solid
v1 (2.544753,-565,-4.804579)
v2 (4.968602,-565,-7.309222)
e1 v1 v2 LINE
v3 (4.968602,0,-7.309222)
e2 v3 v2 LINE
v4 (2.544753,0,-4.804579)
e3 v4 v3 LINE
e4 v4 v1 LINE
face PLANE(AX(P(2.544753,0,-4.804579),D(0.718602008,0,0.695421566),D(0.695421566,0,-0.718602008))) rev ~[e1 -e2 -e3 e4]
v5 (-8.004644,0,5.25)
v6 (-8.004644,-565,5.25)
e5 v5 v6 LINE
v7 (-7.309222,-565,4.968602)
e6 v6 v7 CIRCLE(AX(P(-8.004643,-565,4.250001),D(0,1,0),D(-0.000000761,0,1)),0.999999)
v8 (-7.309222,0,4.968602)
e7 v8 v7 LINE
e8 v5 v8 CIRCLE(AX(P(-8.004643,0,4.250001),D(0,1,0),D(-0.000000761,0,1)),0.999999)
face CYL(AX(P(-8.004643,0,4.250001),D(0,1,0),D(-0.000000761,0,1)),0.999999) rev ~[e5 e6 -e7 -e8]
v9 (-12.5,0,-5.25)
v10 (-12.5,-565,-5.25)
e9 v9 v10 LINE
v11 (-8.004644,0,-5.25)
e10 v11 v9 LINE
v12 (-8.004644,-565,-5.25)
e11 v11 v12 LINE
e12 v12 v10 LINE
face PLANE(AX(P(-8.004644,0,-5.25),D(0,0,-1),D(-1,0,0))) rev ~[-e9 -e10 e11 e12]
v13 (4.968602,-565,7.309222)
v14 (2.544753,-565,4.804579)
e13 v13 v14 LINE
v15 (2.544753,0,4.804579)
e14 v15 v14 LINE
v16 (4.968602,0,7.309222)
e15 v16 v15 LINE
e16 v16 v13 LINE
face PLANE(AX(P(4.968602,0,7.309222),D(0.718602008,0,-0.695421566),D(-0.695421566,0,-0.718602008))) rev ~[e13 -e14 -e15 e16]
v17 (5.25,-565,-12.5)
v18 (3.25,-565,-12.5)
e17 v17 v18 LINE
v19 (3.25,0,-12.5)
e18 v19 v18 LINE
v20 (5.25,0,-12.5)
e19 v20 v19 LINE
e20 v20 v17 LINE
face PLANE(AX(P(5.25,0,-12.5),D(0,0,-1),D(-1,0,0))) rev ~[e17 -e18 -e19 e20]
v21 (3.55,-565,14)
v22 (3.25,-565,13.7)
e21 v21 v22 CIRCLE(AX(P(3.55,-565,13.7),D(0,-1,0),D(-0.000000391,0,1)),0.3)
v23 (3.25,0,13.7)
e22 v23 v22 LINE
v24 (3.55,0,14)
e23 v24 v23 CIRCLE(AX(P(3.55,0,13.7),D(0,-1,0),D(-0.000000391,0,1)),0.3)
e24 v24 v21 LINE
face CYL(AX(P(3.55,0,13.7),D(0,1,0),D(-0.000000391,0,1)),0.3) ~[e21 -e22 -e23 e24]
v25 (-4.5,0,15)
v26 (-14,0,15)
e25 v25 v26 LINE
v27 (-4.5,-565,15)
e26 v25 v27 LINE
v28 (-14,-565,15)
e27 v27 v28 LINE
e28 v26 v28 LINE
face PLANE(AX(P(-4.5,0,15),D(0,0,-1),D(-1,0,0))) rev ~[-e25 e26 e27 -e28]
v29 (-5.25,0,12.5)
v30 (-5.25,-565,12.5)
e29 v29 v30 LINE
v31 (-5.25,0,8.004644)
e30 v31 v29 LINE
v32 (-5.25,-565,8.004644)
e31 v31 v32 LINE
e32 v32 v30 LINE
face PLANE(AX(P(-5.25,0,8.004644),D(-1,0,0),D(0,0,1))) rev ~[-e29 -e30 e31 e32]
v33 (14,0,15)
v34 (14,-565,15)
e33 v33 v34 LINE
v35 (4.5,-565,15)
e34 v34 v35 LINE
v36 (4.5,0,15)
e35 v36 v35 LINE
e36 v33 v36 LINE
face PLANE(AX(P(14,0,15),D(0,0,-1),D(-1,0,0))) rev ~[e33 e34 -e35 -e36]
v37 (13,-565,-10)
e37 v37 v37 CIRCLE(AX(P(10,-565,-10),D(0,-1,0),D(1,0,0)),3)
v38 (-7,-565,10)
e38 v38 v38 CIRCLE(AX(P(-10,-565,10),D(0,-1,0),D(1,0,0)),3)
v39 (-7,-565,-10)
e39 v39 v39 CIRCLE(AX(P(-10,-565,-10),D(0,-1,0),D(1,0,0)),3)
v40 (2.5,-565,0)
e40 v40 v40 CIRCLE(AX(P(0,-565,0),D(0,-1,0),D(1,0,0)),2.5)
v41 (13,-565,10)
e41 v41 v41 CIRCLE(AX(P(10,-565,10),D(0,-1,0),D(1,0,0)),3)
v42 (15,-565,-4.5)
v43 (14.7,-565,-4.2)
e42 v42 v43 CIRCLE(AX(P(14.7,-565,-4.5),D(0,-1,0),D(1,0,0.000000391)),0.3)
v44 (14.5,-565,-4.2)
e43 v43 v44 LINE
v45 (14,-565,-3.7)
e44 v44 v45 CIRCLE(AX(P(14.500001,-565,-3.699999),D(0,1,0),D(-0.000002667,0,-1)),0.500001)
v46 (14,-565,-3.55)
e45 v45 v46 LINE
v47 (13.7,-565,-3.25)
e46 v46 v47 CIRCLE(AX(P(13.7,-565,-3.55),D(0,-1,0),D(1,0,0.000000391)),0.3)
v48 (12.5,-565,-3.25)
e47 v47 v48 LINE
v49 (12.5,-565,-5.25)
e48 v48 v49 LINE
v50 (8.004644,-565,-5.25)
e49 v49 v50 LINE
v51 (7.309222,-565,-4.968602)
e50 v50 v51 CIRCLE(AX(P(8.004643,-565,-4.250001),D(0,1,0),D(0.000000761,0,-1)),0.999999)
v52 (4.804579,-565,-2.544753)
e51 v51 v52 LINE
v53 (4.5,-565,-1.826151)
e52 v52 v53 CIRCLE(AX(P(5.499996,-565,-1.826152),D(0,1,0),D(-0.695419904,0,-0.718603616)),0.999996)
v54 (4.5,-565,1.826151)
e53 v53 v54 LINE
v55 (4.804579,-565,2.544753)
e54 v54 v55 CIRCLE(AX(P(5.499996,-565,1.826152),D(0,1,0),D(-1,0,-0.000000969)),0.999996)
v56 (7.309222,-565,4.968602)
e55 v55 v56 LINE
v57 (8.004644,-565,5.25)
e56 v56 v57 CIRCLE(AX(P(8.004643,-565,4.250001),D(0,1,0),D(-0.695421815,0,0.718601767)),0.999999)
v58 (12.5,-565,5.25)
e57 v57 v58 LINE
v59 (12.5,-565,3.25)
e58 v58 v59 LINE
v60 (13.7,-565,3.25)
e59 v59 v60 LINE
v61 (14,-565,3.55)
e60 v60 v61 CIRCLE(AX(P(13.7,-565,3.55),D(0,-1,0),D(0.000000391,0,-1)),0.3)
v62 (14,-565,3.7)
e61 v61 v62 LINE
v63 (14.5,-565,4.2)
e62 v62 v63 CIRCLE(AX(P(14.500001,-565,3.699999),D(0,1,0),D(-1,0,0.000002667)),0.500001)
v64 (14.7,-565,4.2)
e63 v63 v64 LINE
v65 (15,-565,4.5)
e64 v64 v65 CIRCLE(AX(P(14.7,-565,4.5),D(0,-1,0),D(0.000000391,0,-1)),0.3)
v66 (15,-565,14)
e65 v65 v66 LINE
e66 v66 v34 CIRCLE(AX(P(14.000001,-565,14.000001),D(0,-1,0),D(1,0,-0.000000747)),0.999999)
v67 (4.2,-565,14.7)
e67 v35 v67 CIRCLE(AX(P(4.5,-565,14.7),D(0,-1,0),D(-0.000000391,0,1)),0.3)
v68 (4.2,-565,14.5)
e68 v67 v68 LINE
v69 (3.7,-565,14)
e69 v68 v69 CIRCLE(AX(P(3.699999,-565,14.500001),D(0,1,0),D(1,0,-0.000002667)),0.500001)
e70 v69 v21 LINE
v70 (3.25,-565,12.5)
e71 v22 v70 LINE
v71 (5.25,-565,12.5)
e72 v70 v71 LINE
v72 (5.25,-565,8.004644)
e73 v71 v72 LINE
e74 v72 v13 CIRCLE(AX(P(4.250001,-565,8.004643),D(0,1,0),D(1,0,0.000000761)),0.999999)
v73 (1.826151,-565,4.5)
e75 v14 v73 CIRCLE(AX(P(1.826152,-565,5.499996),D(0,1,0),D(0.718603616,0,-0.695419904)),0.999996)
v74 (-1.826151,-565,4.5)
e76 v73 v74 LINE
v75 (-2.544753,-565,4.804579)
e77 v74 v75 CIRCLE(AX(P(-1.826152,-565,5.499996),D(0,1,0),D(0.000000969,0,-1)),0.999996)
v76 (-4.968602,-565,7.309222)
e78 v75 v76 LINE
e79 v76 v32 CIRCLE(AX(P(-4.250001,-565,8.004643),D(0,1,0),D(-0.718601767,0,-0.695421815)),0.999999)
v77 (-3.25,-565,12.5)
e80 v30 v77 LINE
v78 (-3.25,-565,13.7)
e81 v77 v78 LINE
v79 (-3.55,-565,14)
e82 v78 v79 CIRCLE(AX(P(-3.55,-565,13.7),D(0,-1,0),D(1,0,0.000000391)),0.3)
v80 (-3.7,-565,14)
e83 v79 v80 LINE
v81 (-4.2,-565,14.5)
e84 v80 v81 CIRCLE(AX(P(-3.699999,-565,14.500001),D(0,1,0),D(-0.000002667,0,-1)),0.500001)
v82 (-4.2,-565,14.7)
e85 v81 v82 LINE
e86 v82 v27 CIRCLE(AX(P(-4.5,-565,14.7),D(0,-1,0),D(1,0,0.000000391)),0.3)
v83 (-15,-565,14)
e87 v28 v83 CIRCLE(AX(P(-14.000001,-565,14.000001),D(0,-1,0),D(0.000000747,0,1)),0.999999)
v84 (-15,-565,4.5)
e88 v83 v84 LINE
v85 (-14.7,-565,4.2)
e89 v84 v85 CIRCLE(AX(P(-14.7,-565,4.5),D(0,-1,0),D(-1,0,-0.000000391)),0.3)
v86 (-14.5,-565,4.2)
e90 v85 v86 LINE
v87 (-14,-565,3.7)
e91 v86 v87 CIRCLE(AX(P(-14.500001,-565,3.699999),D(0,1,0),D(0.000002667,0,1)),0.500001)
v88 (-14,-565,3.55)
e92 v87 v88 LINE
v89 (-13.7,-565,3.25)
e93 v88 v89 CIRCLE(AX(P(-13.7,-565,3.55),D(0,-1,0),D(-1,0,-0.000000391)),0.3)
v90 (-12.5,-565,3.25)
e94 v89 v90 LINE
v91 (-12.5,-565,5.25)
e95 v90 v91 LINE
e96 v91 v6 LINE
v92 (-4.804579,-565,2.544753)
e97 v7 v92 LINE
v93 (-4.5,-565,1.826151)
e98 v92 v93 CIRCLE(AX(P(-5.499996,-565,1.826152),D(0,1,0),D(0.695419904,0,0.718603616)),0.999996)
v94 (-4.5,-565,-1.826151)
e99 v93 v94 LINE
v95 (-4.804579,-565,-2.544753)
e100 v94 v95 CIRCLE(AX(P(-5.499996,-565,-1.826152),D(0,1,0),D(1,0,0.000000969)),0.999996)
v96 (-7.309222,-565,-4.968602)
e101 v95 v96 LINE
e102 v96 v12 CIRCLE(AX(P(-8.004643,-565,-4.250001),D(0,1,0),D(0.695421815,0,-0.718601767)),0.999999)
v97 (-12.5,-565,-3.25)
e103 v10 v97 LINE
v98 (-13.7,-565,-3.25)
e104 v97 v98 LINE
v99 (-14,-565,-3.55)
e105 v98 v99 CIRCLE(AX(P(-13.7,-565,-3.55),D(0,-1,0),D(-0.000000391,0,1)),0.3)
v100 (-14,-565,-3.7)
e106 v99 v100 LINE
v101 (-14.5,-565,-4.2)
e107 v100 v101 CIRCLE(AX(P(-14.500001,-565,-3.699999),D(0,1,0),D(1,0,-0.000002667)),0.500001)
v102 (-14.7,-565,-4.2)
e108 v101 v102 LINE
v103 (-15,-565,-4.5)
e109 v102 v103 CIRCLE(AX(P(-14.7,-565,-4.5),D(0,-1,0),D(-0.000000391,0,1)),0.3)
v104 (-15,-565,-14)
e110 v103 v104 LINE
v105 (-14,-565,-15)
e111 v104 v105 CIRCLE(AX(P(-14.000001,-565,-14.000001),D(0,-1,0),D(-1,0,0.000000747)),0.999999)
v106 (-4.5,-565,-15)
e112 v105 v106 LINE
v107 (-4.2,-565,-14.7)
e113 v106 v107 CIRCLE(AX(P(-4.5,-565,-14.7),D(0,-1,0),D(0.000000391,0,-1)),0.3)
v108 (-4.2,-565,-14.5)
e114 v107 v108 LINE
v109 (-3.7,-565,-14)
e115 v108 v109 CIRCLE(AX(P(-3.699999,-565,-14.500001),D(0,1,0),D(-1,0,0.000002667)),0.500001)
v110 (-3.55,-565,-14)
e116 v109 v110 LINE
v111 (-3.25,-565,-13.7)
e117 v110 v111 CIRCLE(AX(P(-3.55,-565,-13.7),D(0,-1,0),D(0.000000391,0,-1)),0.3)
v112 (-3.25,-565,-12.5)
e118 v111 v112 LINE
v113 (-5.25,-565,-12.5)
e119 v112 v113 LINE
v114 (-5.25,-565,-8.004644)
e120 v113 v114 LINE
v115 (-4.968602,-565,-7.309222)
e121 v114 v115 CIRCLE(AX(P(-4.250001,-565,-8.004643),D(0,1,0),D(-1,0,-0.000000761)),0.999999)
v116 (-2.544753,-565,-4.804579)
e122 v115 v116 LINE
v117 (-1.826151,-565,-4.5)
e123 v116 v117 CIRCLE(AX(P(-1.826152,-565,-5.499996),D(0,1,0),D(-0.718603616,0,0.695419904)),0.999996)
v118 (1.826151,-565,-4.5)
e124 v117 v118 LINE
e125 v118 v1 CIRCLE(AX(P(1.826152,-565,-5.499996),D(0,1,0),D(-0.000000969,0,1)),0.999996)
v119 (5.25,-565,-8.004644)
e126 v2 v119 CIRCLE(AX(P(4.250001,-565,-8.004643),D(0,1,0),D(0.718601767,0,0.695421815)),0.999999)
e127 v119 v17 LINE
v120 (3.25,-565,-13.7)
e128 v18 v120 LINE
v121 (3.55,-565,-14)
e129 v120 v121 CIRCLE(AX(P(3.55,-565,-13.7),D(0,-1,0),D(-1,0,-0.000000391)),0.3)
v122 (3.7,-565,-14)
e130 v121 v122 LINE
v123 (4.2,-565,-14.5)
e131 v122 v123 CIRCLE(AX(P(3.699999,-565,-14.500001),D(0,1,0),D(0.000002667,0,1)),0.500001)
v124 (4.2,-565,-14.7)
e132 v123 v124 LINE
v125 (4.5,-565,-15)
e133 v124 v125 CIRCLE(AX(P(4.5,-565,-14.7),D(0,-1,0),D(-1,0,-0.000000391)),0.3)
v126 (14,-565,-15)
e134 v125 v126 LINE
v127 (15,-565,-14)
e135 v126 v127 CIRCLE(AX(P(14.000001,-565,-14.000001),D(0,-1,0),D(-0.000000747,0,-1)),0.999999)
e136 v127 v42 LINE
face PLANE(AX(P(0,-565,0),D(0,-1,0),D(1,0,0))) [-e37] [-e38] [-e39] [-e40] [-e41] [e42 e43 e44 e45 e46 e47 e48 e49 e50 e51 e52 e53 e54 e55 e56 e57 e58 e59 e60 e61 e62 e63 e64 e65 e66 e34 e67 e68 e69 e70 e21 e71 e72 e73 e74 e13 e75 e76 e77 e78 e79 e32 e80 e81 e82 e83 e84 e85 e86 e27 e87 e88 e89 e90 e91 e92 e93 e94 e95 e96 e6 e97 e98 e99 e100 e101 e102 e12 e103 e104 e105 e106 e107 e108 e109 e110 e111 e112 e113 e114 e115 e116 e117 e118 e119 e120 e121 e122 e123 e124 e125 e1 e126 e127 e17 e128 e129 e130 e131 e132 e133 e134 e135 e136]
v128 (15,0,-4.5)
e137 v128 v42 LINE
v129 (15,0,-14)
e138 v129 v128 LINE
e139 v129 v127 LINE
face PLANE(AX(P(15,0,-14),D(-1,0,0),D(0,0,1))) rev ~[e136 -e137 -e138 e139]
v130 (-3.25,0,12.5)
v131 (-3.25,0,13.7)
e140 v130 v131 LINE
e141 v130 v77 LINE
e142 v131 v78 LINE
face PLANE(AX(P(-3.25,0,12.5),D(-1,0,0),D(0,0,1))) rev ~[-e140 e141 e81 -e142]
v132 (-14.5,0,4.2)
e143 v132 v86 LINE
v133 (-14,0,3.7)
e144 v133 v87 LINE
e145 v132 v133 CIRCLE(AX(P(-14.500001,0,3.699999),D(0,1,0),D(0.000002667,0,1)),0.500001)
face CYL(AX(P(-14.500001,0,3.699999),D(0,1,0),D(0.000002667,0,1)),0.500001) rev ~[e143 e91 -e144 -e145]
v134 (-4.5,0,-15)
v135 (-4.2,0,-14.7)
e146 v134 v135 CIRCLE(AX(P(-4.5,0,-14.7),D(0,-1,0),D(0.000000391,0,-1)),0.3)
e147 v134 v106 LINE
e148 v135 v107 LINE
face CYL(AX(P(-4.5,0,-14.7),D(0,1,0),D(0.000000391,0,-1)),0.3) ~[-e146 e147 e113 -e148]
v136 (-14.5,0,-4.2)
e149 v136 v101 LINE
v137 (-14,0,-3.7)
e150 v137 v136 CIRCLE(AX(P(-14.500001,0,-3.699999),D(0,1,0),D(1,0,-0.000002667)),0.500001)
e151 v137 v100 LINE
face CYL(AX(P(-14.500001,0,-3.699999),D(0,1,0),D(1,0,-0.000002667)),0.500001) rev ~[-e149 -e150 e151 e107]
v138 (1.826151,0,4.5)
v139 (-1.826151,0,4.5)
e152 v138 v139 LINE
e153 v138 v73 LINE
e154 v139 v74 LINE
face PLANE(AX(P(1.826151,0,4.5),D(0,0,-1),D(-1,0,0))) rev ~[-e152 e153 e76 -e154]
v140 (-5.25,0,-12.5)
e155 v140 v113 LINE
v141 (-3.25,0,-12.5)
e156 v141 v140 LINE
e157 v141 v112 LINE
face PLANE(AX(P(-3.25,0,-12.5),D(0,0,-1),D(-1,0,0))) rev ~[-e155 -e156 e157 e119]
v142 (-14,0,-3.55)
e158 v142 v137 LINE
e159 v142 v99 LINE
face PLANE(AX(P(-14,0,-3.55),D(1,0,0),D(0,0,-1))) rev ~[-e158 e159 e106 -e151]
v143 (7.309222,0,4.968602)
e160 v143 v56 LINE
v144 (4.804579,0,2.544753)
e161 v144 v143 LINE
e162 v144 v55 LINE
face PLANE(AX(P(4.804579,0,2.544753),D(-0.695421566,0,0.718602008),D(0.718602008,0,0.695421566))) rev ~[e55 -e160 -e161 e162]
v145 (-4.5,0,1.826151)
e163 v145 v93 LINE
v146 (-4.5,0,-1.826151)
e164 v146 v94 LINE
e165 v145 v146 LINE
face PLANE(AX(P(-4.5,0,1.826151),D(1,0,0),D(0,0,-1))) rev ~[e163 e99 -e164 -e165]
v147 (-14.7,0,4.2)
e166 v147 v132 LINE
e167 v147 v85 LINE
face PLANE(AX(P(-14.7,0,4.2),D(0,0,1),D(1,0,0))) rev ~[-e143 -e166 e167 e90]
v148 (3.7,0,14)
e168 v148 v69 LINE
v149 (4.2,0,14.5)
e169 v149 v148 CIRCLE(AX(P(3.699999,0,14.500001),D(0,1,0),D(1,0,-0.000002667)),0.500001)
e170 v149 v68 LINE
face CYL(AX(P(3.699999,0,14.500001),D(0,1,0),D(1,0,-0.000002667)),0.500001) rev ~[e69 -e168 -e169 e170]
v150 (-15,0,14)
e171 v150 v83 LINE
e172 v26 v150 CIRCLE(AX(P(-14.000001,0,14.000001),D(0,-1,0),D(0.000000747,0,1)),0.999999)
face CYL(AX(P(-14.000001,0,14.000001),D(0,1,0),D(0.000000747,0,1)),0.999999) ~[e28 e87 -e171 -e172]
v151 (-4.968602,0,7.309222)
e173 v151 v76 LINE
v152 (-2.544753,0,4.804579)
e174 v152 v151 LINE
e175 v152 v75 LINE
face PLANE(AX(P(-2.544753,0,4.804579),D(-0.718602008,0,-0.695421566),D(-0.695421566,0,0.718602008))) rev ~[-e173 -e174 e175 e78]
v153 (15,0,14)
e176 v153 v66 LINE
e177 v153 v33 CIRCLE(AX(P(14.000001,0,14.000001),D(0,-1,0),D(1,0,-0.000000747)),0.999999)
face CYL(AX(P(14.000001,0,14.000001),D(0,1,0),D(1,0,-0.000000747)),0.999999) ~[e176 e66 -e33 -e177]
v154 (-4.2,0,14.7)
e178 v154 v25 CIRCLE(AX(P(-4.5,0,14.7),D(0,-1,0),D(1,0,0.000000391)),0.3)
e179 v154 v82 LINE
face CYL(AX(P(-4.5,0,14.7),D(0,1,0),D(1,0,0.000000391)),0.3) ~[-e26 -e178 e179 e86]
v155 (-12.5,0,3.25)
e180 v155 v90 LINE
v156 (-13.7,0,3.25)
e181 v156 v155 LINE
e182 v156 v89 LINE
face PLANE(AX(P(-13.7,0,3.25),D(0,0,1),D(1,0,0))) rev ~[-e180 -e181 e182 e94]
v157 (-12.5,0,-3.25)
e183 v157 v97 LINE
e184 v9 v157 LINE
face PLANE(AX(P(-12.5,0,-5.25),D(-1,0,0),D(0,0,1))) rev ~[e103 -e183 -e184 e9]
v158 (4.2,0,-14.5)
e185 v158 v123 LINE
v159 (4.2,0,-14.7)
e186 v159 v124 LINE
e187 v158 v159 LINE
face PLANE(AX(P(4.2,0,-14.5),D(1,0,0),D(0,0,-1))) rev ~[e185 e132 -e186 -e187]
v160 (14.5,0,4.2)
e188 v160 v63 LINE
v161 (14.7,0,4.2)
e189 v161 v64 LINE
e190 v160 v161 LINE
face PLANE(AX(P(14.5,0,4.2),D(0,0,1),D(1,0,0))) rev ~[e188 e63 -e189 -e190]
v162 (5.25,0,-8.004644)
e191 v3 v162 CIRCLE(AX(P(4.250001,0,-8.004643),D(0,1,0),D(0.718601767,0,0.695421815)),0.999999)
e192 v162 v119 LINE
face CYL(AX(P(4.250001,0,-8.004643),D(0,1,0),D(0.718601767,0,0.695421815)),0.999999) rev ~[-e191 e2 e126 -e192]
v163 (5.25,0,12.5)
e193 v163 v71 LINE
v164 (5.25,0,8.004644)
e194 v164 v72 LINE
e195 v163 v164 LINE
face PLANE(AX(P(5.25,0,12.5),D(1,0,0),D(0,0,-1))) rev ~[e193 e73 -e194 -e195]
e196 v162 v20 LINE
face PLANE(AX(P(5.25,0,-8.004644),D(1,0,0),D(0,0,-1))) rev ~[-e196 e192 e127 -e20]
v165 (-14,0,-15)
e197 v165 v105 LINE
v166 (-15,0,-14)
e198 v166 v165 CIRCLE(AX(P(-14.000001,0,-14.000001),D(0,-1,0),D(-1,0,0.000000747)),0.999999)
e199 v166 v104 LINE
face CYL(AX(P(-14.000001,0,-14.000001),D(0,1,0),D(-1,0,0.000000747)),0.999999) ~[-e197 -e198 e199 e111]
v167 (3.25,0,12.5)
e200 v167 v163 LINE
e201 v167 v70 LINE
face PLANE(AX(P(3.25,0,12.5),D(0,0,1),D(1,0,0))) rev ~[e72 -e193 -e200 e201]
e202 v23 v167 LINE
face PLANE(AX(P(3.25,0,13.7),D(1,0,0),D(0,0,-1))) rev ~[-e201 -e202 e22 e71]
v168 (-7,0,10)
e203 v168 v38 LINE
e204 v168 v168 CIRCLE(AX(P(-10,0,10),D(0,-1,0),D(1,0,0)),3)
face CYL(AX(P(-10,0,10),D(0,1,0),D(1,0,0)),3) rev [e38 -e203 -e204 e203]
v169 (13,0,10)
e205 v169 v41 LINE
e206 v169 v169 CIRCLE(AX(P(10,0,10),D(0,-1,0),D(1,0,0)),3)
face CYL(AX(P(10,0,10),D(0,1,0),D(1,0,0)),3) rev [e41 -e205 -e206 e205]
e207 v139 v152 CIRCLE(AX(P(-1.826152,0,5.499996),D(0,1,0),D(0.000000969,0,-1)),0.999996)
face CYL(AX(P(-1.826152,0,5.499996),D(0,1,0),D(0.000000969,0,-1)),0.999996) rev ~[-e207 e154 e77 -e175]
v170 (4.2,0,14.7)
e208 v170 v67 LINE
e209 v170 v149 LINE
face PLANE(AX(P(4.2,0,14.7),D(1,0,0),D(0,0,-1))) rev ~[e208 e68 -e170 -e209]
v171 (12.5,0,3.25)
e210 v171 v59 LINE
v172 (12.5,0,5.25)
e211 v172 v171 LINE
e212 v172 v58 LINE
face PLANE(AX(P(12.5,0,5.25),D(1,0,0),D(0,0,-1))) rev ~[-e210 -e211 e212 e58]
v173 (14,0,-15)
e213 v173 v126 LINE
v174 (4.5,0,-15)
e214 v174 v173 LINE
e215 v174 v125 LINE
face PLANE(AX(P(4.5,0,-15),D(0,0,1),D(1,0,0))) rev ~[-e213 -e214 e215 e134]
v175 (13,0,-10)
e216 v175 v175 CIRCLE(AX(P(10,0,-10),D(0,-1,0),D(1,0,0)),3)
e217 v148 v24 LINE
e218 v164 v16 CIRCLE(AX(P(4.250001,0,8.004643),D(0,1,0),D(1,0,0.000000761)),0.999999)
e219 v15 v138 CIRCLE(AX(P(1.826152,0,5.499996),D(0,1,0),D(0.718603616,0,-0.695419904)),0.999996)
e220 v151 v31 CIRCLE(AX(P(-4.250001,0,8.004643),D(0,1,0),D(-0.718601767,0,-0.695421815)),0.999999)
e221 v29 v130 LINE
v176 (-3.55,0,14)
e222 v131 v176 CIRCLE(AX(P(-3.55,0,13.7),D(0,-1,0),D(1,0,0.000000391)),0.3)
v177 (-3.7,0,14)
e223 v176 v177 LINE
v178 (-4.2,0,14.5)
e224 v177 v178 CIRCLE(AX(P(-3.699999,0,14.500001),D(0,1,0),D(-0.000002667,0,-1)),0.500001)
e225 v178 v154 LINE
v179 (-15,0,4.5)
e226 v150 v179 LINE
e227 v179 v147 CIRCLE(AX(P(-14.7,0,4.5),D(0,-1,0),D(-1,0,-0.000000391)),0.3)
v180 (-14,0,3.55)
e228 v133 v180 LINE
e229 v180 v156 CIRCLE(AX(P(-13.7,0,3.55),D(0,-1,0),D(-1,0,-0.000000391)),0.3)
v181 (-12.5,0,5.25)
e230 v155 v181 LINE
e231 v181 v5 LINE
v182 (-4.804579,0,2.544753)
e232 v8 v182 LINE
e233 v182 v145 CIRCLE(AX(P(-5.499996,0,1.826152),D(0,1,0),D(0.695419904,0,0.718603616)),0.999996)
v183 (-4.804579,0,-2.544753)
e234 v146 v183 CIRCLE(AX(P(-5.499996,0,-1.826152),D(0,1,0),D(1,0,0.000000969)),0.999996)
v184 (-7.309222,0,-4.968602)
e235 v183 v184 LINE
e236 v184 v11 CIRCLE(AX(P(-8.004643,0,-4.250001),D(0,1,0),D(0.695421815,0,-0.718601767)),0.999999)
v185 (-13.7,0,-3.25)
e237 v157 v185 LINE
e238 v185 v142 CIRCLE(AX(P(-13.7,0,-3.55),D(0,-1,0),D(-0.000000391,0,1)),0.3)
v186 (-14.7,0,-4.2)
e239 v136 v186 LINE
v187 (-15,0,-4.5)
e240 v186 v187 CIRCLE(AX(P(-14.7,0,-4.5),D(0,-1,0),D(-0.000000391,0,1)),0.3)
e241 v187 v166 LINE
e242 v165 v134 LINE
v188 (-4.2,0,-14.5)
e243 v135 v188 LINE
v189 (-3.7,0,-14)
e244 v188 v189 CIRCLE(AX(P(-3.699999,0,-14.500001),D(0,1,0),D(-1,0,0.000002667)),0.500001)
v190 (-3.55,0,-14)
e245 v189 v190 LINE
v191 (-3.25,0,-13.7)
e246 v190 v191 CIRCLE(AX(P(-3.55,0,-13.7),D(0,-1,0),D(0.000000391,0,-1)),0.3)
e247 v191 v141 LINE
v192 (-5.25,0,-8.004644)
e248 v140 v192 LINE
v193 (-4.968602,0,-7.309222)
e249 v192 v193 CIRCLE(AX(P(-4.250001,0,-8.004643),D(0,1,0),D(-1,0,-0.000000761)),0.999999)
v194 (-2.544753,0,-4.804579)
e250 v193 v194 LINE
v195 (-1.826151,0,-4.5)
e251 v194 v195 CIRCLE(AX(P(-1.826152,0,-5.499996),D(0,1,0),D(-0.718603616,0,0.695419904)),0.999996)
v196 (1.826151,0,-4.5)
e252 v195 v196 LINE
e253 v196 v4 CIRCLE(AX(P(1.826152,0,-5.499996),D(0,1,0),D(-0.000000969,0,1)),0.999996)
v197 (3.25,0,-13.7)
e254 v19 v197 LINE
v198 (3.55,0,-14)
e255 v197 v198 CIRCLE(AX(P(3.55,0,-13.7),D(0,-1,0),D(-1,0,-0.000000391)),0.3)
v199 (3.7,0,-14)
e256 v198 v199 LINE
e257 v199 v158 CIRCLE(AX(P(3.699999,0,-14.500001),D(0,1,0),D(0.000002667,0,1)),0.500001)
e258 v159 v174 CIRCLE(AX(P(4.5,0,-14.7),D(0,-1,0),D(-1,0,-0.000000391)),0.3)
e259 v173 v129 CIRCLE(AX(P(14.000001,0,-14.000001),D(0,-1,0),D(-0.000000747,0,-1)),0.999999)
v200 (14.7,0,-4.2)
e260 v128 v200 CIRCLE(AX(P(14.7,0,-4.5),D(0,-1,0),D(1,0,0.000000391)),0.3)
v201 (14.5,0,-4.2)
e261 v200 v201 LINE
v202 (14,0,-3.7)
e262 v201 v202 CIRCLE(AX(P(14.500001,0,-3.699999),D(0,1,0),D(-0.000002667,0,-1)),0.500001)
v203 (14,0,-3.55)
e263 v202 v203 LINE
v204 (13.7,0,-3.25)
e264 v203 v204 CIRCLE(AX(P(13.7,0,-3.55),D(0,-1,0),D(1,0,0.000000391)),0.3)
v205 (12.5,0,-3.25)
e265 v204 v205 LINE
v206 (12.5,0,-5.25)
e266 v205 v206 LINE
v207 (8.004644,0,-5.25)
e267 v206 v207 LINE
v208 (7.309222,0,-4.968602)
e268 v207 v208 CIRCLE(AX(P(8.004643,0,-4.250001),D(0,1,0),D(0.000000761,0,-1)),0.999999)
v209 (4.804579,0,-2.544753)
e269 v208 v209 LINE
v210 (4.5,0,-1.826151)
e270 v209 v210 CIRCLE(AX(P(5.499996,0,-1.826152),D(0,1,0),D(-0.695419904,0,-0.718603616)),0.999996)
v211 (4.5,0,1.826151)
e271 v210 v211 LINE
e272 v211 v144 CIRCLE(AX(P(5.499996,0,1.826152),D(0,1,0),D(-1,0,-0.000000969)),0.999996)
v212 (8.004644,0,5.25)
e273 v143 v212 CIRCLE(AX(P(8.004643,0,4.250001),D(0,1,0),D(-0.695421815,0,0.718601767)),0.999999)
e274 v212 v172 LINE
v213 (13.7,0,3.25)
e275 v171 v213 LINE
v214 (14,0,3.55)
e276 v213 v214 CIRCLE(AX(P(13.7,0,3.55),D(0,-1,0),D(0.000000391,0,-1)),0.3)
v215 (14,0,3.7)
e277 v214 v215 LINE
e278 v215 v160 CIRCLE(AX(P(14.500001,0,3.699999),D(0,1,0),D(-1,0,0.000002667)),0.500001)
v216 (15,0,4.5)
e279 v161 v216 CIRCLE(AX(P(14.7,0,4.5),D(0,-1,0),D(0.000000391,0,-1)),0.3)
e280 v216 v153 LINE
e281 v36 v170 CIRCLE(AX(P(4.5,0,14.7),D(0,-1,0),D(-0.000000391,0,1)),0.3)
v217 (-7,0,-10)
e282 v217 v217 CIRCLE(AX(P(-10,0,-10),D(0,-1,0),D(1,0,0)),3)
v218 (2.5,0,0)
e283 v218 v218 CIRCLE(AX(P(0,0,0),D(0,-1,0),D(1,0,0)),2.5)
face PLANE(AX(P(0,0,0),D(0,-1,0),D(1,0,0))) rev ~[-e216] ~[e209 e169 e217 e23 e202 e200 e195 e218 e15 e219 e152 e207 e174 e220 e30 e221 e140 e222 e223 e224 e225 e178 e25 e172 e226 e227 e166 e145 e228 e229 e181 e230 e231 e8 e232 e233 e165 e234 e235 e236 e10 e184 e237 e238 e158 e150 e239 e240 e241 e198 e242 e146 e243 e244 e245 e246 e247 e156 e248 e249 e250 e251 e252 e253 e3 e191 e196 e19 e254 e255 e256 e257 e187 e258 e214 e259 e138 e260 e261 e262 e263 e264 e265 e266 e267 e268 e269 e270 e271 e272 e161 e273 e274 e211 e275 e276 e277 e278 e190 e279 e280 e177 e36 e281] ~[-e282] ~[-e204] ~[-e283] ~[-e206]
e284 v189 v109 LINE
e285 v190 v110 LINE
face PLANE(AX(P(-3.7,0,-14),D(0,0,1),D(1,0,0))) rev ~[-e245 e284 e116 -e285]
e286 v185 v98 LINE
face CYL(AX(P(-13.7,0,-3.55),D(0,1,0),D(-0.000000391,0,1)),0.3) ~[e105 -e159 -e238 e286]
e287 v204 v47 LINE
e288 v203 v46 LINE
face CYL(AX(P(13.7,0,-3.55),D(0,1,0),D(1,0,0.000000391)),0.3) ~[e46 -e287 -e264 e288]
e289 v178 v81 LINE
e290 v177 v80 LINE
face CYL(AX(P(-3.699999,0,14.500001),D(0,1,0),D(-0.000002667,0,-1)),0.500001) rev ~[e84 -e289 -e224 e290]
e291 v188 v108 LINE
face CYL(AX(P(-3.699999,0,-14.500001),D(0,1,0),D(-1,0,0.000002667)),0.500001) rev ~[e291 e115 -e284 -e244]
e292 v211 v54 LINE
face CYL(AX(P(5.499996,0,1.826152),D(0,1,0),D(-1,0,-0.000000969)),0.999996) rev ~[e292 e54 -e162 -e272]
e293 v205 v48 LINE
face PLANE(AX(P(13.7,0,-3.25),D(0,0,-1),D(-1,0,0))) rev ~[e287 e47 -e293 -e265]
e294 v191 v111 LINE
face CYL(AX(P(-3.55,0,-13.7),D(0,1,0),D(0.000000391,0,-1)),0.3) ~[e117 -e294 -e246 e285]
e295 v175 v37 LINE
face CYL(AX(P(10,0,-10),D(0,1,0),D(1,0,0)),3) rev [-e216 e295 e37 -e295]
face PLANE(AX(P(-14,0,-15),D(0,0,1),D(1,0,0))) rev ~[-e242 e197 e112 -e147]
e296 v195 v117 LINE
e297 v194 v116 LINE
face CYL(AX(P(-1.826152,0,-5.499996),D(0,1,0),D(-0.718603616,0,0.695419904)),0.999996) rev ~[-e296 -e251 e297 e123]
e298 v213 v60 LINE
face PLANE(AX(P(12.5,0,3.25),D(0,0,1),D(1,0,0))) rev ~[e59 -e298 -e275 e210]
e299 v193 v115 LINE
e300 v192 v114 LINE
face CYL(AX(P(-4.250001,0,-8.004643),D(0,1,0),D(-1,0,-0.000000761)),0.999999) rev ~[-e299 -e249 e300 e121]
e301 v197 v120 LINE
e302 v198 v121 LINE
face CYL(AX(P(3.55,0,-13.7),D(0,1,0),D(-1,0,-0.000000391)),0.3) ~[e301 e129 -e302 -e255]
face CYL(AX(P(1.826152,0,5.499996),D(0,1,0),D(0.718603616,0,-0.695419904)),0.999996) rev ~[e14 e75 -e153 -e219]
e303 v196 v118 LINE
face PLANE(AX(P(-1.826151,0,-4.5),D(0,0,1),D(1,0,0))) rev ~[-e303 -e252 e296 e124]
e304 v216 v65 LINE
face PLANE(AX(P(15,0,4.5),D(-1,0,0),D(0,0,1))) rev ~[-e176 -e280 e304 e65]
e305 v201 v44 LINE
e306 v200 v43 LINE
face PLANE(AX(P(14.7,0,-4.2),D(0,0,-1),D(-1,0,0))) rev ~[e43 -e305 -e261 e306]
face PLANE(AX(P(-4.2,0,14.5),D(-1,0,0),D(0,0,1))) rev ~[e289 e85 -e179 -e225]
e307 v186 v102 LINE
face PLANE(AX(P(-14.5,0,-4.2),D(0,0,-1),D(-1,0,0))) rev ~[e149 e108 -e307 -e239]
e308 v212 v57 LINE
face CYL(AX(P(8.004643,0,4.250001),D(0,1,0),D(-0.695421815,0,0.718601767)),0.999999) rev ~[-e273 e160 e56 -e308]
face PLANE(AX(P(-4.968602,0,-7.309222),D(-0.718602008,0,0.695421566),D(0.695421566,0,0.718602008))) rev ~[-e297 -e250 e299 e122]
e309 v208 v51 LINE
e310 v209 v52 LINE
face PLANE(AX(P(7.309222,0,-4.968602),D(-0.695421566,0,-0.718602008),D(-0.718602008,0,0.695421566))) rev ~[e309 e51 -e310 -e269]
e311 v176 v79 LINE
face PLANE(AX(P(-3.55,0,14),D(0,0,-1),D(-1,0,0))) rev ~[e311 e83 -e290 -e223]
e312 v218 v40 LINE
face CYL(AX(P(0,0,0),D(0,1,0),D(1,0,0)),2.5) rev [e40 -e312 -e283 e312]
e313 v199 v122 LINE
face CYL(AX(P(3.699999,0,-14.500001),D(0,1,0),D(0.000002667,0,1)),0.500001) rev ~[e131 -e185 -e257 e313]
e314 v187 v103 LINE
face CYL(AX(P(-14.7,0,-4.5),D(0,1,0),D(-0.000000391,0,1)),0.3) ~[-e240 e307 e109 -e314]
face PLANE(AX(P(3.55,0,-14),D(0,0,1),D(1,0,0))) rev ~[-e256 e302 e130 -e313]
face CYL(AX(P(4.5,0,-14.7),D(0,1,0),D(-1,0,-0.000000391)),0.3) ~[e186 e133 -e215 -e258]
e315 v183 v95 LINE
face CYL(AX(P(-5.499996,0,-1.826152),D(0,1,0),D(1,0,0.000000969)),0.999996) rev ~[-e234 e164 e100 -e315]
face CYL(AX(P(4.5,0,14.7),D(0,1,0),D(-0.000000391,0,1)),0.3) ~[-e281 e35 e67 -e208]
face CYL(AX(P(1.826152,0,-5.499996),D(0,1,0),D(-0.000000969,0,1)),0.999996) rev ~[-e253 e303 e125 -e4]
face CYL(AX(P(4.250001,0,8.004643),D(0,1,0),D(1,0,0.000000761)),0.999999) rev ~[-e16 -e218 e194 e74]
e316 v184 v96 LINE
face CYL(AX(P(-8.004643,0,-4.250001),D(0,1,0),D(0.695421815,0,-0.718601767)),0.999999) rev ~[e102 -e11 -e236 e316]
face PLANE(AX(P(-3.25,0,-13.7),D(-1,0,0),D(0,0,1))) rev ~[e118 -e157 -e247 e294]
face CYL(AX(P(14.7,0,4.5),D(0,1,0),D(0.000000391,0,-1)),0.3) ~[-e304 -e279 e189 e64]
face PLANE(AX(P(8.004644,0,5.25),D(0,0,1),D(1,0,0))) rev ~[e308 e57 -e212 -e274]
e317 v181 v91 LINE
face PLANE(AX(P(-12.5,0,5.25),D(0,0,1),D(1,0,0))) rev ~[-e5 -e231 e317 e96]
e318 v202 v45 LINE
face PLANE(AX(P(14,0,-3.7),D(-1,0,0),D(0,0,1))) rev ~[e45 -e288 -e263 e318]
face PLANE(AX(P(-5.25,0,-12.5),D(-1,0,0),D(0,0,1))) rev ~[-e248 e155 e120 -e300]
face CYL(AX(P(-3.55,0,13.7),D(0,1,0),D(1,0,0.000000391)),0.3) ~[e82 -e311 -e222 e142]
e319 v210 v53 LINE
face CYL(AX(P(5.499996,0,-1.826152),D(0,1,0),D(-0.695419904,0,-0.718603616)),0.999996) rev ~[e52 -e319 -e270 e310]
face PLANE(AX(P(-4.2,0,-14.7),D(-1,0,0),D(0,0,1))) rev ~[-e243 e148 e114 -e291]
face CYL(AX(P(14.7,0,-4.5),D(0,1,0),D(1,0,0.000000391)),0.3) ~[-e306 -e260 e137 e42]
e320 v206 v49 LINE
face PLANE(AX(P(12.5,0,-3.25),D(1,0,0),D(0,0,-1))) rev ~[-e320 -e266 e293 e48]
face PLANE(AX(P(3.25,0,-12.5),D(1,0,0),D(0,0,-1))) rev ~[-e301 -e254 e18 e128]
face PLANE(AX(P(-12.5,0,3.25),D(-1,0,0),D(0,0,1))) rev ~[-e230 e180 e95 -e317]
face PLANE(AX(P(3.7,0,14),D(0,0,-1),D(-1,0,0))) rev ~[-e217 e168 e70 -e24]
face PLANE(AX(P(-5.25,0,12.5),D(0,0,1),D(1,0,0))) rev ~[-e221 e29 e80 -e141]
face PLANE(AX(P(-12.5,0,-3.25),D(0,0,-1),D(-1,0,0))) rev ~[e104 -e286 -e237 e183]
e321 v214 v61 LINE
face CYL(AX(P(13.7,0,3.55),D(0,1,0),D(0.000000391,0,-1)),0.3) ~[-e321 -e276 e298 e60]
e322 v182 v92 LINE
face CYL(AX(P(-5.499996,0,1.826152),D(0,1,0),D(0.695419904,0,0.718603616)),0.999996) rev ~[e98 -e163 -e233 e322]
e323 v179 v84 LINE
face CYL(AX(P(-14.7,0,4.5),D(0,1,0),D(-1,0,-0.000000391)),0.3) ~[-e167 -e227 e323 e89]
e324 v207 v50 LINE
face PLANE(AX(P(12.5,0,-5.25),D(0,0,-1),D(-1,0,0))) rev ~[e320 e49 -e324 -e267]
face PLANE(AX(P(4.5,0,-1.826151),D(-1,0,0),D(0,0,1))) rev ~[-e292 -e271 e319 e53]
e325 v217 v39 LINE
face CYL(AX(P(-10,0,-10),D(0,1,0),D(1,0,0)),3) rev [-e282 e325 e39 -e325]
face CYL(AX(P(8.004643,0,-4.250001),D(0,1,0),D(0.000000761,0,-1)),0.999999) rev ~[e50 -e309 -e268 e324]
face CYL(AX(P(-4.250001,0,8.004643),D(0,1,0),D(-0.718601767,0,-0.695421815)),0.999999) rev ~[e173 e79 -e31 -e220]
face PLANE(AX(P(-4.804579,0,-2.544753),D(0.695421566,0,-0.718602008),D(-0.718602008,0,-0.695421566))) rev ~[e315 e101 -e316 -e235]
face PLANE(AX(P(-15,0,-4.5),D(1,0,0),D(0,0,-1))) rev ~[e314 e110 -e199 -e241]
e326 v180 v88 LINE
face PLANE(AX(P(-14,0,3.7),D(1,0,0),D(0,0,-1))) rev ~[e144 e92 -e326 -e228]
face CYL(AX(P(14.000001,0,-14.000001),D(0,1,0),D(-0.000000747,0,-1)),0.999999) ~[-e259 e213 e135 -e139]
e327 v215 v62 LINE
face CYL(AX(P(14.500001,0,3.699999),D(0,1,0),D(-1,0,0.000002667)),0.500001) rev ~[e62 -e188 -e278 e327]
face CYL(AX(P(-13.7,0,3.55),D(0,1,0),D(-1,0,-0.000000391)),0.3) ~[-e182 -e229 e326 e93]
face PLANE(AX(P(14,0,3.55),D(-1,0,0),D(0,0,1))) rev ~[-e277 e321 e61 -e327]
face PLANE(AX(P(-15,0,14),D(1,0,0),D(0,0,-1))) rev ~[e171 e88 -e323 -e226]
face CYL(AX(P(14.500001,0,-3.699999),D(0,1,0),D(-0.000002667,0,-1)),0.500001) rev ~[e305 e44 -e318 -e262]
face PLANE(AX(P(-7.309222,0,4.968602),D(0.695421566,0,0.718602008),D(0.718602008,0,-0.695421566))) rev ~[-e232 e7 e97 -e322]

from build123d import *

# Parameters (mm, degrees)
F0_R     = 3
F0_R_2   = 2.5
F1_DEPTH = 565


with BuildPart() as f1:
    # F0 (on Front) → F1 (new body)
    with BuildSketch(Plane.XZ):
        with BuildLine():
            Line((-4.5, 15), (-14, 15))
            ThreePointArc((-14, 15), (-14.707107, 14.707107), (-15, 14))
            Line((-15, 14), (-15, 4.5))
            ThreePointArc((-15, 4.5), (-14.912132, 4.287868), (-14.7, 4.2))
            Line((-14.7, 4.2), (-14.5, 4.2))
            ThreePointArc((-14.5, 4.2), (-14.146447, 4.053553), (-14, 3.7))
            Line((-14, 3.7), (-14, 3.55))
            ThreePointArc((-14, 3.55), (-13.912132, 3.337868), (-13.7, 3.25))
            Line((-13.7, 3.25), (-12.5, 3.25))
            Line((-12.5, 3.25), (-12.5, 5.25))
            Line((-12.5, 5.25), (-8.004644, 5.25))
            ThreePointArc((-8.004644, 5.25), (-7.629545, 5.176985), (-7.309222, 4.968602))
            Line((-7.309222, 4.968602), (-4.804579, 2.544753))
            ThreePointArc((-4.804579, 2.544753), (-4.579288, 2.216394), (-4.5, 1.826151))
            Line((-4.5, 1.826151), (-4.5, -1.826151))
            ThreePointArc((-4.5, -1.826151), (-4.579288, -2.216394), (-4.804579, -2.544753))
            Line((-4.804579, -2.544753), (-7.309222, -4.968602))
            ThreePointArc((-7.309222, -4.968602), (-7.629545, -5.176985), (-8.004644, -5.25))
            Line((-8.004644, -5.25), (-12.5, -5.25))
            Line((-12.5, -5.25), (-12.5, -3.25))
            Line((-12.5, -3.25), (-13.7, -3.25))
            ThreePointArc((-13.7, -3.25), (-13.912132, -3.337868), (-14, -3.55))
            Line((-14, -3.55), (-14, -3.7))
            ThreePointArc((-14, -3.7), (-14.146447, -4.053553), (-14.5, -4.2))
            Line((-14.5, -4.2), (-14.7, -4.2))
            ThreePointArc((-14.7, -4.2), (-14.912132, -4.287868), (-15, -4.5))
            Line((-15, -4.5), (-15, -14))
            ThreePointArc((-15, -14), (-14.707107, -14.707107), (-14, -15))
            Line((-14, -15), (-4.5, -15))
            ThreePointArc((-4.5, -15), (-4.287868, -14.912132), (-4.2, -14.7))
            Line((-4.2, -14.7), (-4.2, -14.5))
            ThreePointArc((-4.2, -14.5), (-4.053553, -14.146447), (-3.7, -14))
            Line((-3.7, -14), (-3.55, -14))
            ThreePointArc((-3.55, -14), (-3.337868, -13.912132), (-3.25, -13.7))
            Line((-3.25, -13.7), (-3.25, -12.5))
            Line((-3.25, -12.5), (-5.25, -12.5))
            Line((-5.25, -12.5), (-5.25, -8.004644))
            ThreePointArc((-5.25, -8.004644), (-5.176985, -7.629545), (-4.968602, -7.309222))
            Line((-4.968602, -7.309222), (-2.544753, -4.804579))
            ThreePointArc((-2.544753, -4.804579), (-2.216394, -4.579288), (-1.826151, -4.5))
            Line((-1.826151, -4.5), (1.826151, -4.5))
            ThreePointArc((1.826151, -4.5), (2.216394, -4.579288), (2.544753, -4.804579))
            Line((2.544753, -4.804579), (4.968602, -7.309222))
            ThreePointArc((4.968602, -7.309222), (5.176985, -7.629545), (5.25, -8.004644))
            Line((5.25, -8.004644), (5.25, -12.5))
            Line((5.25, -12.5), (3.25, -12.5))
            Line((3.25, -12.5), (3.25, -13.7))
            ThreePointArc((3.25, -13.7), (3.337868, -13.912132), (3.55, -14))
            Line((3.55, -14), (3.7, -14))
            ThreePointArc((3.7, -14), (4.053553, -14.146447), (4.2, -14.5))
            Line((4.2, -14.5), (4.2, -14.7))
            ThreePointArc((4.2, -14.7), (4.287868, -14.912132), (4.5, -15))
            Line((4.5, -15), (14, -15))
            ThreePointArc((14, -15), (14.707107, -14.707107), (15, -14))
            Line((15, -14), (15, -4.5))
            ThreePointArc((15, -4.5), (14.912132, -4.287868), (14.7, -4.2))
            Line((14.7, -4.2), (14.5, -4.2))
            ThreePointArc((14.5, -4.2), (14.146447, -4.053553), (14, -3.7))
            Line((14, -3.7), (14, -3.55))
            ThreePointArc((14, -3.55), (13.912132, -3.337868), (13.7, -3.25))
            Line((13.7, -3.25), (12.5, -3.25))
            Line((12.5, -3.25), (12.5, -5.25))
            Line((12.5, -5.25), (8.004644, -5.25))
            ThreePointArc((8.004644, -5.25), (7.629545, -5.176985), (7.309222, -4.968602))
            Line((7.309222, -4.968602), (4.804579, -2.544753))
            ThreePointArc((4.804579, -2.544753), (4.579288, -2.216394), (4.5, -1.826151))
            Line((4.5, -1.826151), (4.5, 1.826151))
            ThreePointArc((4.5, 1.826151), (4.579288, 2.216394), (4.804579, 2.544753))
            Line((4.804579, 2.544753), (7.309222, 4.968602))
            ThreePointArc((7.309222, 4.968602), (7.629545, 5.176985), (8.004644, 5.25))
            Line((8.004644, 5.25), (12.5, 5.25))
            Line((12.5, 5.25), (12.5, 3.25))
            Line((12.5, 3.25), (13.7, 3.25))
            ThreePointArc((13.7, 3.25), (13.912132, 3.337868), (14, 3.55))
            Line((14, 3.55), (14, 3.7))
            ThreePointArc((14, 3.7), (14.146447, 4.053553), (14.5, 4.2))
            Line((14.5, 4.2), (14.7, 4.2))
            ThreePointArc((14.7, 4.2), (14.912132, 4.287868), (15, 4.5))
            Line((15, 4.5), (15, 14))
            ThreePointArc((15, 14), (14.707107, 14.707107), (14, 15))
            Line((14, 15), (4.5, 15))
            ThreePointArc((4.5, 15), (4.287868, 14.912132), (4.2, 14.7))
            Line((4.2, 14.7), (4.2, 14.5))
            ThreePointArc((4.2, 14.5), (4.053553, 14.146447), (3.7, 14))
            Line((3.7, 14), (3.55, 14))
            ThreePointArc((3.55, 14), (3.337868, 13.912132), (3.25, 13.7))
            Line((3.25, 13.7), (3.25, 12.5))
            Line((3.25, 12.5), (5.25, 12.5))
            Line((5.25, 12.5), (5.25, 8.004644))
            ThreePointArc((5.25, 8.004644), (5.176985, 7.629545), (4.968602, 7.309222))
            Line((4.968602, 7.309222), (2.544753, 4.804579))
            ThreePointArc((2.544753, 4.804579), (2.216394, 4.579288), (1.826151, 4.5))
            Line((1.826151, 4.5), (-1.826151, 4.5))
            ThreePointArc((-1.826151, 4.5), (-2.216394, 4.579288), (-2.544753, 4.804579))
            Line((-2.544753, 4.804579), (-4.968602, 7.309222))
            ThreePointArc((-4.968602, 7.309222), (-5.176985, 7.629545), (-5.25, 8.004644))
            Line((-5.25, 8.004644), (-5.25, 12.5))
            Line((-5.25, 12.5), (-3.25, 12.5))
            Line((-3.25, 12.5), (-3.25, 13.7))
            ThreePointArc((-3.25, 13.7), (-3.337868, 13.912132), (-3.55, 14))
            Line((-3.55, 14), (-3.7, 14))
            ThreePointArc((-3.7, 14), (-4.053553, 14.146447), (-4.2, 14.5))
            Line((-4.2, 14.5), (-4.2, 14.7))
            ThreePointArc((-4.2, 14.7), (-4.287868, 14.912132), (-4.5, 15))
        make_face()
        with Locations((-10, -10)):
            Circle(F0_R, mode=Mode.SUBTRACT)
        with Locations((10, -10)):
            Circle(F0_R, mode=Mode.SUBTRACT)
        with Locations((-10, 10)):
            Circle(F0_R, mode=Mode.SUBTRACT)
        Circle(F0_R_2, mode=Mode.SUBTRACT)
        with Locations((10, 10)):
            Circle(F0_R, mode=Mode.SUBTRACT)
    extrude(amount=F1_DEPTH)


solid = f1.part
